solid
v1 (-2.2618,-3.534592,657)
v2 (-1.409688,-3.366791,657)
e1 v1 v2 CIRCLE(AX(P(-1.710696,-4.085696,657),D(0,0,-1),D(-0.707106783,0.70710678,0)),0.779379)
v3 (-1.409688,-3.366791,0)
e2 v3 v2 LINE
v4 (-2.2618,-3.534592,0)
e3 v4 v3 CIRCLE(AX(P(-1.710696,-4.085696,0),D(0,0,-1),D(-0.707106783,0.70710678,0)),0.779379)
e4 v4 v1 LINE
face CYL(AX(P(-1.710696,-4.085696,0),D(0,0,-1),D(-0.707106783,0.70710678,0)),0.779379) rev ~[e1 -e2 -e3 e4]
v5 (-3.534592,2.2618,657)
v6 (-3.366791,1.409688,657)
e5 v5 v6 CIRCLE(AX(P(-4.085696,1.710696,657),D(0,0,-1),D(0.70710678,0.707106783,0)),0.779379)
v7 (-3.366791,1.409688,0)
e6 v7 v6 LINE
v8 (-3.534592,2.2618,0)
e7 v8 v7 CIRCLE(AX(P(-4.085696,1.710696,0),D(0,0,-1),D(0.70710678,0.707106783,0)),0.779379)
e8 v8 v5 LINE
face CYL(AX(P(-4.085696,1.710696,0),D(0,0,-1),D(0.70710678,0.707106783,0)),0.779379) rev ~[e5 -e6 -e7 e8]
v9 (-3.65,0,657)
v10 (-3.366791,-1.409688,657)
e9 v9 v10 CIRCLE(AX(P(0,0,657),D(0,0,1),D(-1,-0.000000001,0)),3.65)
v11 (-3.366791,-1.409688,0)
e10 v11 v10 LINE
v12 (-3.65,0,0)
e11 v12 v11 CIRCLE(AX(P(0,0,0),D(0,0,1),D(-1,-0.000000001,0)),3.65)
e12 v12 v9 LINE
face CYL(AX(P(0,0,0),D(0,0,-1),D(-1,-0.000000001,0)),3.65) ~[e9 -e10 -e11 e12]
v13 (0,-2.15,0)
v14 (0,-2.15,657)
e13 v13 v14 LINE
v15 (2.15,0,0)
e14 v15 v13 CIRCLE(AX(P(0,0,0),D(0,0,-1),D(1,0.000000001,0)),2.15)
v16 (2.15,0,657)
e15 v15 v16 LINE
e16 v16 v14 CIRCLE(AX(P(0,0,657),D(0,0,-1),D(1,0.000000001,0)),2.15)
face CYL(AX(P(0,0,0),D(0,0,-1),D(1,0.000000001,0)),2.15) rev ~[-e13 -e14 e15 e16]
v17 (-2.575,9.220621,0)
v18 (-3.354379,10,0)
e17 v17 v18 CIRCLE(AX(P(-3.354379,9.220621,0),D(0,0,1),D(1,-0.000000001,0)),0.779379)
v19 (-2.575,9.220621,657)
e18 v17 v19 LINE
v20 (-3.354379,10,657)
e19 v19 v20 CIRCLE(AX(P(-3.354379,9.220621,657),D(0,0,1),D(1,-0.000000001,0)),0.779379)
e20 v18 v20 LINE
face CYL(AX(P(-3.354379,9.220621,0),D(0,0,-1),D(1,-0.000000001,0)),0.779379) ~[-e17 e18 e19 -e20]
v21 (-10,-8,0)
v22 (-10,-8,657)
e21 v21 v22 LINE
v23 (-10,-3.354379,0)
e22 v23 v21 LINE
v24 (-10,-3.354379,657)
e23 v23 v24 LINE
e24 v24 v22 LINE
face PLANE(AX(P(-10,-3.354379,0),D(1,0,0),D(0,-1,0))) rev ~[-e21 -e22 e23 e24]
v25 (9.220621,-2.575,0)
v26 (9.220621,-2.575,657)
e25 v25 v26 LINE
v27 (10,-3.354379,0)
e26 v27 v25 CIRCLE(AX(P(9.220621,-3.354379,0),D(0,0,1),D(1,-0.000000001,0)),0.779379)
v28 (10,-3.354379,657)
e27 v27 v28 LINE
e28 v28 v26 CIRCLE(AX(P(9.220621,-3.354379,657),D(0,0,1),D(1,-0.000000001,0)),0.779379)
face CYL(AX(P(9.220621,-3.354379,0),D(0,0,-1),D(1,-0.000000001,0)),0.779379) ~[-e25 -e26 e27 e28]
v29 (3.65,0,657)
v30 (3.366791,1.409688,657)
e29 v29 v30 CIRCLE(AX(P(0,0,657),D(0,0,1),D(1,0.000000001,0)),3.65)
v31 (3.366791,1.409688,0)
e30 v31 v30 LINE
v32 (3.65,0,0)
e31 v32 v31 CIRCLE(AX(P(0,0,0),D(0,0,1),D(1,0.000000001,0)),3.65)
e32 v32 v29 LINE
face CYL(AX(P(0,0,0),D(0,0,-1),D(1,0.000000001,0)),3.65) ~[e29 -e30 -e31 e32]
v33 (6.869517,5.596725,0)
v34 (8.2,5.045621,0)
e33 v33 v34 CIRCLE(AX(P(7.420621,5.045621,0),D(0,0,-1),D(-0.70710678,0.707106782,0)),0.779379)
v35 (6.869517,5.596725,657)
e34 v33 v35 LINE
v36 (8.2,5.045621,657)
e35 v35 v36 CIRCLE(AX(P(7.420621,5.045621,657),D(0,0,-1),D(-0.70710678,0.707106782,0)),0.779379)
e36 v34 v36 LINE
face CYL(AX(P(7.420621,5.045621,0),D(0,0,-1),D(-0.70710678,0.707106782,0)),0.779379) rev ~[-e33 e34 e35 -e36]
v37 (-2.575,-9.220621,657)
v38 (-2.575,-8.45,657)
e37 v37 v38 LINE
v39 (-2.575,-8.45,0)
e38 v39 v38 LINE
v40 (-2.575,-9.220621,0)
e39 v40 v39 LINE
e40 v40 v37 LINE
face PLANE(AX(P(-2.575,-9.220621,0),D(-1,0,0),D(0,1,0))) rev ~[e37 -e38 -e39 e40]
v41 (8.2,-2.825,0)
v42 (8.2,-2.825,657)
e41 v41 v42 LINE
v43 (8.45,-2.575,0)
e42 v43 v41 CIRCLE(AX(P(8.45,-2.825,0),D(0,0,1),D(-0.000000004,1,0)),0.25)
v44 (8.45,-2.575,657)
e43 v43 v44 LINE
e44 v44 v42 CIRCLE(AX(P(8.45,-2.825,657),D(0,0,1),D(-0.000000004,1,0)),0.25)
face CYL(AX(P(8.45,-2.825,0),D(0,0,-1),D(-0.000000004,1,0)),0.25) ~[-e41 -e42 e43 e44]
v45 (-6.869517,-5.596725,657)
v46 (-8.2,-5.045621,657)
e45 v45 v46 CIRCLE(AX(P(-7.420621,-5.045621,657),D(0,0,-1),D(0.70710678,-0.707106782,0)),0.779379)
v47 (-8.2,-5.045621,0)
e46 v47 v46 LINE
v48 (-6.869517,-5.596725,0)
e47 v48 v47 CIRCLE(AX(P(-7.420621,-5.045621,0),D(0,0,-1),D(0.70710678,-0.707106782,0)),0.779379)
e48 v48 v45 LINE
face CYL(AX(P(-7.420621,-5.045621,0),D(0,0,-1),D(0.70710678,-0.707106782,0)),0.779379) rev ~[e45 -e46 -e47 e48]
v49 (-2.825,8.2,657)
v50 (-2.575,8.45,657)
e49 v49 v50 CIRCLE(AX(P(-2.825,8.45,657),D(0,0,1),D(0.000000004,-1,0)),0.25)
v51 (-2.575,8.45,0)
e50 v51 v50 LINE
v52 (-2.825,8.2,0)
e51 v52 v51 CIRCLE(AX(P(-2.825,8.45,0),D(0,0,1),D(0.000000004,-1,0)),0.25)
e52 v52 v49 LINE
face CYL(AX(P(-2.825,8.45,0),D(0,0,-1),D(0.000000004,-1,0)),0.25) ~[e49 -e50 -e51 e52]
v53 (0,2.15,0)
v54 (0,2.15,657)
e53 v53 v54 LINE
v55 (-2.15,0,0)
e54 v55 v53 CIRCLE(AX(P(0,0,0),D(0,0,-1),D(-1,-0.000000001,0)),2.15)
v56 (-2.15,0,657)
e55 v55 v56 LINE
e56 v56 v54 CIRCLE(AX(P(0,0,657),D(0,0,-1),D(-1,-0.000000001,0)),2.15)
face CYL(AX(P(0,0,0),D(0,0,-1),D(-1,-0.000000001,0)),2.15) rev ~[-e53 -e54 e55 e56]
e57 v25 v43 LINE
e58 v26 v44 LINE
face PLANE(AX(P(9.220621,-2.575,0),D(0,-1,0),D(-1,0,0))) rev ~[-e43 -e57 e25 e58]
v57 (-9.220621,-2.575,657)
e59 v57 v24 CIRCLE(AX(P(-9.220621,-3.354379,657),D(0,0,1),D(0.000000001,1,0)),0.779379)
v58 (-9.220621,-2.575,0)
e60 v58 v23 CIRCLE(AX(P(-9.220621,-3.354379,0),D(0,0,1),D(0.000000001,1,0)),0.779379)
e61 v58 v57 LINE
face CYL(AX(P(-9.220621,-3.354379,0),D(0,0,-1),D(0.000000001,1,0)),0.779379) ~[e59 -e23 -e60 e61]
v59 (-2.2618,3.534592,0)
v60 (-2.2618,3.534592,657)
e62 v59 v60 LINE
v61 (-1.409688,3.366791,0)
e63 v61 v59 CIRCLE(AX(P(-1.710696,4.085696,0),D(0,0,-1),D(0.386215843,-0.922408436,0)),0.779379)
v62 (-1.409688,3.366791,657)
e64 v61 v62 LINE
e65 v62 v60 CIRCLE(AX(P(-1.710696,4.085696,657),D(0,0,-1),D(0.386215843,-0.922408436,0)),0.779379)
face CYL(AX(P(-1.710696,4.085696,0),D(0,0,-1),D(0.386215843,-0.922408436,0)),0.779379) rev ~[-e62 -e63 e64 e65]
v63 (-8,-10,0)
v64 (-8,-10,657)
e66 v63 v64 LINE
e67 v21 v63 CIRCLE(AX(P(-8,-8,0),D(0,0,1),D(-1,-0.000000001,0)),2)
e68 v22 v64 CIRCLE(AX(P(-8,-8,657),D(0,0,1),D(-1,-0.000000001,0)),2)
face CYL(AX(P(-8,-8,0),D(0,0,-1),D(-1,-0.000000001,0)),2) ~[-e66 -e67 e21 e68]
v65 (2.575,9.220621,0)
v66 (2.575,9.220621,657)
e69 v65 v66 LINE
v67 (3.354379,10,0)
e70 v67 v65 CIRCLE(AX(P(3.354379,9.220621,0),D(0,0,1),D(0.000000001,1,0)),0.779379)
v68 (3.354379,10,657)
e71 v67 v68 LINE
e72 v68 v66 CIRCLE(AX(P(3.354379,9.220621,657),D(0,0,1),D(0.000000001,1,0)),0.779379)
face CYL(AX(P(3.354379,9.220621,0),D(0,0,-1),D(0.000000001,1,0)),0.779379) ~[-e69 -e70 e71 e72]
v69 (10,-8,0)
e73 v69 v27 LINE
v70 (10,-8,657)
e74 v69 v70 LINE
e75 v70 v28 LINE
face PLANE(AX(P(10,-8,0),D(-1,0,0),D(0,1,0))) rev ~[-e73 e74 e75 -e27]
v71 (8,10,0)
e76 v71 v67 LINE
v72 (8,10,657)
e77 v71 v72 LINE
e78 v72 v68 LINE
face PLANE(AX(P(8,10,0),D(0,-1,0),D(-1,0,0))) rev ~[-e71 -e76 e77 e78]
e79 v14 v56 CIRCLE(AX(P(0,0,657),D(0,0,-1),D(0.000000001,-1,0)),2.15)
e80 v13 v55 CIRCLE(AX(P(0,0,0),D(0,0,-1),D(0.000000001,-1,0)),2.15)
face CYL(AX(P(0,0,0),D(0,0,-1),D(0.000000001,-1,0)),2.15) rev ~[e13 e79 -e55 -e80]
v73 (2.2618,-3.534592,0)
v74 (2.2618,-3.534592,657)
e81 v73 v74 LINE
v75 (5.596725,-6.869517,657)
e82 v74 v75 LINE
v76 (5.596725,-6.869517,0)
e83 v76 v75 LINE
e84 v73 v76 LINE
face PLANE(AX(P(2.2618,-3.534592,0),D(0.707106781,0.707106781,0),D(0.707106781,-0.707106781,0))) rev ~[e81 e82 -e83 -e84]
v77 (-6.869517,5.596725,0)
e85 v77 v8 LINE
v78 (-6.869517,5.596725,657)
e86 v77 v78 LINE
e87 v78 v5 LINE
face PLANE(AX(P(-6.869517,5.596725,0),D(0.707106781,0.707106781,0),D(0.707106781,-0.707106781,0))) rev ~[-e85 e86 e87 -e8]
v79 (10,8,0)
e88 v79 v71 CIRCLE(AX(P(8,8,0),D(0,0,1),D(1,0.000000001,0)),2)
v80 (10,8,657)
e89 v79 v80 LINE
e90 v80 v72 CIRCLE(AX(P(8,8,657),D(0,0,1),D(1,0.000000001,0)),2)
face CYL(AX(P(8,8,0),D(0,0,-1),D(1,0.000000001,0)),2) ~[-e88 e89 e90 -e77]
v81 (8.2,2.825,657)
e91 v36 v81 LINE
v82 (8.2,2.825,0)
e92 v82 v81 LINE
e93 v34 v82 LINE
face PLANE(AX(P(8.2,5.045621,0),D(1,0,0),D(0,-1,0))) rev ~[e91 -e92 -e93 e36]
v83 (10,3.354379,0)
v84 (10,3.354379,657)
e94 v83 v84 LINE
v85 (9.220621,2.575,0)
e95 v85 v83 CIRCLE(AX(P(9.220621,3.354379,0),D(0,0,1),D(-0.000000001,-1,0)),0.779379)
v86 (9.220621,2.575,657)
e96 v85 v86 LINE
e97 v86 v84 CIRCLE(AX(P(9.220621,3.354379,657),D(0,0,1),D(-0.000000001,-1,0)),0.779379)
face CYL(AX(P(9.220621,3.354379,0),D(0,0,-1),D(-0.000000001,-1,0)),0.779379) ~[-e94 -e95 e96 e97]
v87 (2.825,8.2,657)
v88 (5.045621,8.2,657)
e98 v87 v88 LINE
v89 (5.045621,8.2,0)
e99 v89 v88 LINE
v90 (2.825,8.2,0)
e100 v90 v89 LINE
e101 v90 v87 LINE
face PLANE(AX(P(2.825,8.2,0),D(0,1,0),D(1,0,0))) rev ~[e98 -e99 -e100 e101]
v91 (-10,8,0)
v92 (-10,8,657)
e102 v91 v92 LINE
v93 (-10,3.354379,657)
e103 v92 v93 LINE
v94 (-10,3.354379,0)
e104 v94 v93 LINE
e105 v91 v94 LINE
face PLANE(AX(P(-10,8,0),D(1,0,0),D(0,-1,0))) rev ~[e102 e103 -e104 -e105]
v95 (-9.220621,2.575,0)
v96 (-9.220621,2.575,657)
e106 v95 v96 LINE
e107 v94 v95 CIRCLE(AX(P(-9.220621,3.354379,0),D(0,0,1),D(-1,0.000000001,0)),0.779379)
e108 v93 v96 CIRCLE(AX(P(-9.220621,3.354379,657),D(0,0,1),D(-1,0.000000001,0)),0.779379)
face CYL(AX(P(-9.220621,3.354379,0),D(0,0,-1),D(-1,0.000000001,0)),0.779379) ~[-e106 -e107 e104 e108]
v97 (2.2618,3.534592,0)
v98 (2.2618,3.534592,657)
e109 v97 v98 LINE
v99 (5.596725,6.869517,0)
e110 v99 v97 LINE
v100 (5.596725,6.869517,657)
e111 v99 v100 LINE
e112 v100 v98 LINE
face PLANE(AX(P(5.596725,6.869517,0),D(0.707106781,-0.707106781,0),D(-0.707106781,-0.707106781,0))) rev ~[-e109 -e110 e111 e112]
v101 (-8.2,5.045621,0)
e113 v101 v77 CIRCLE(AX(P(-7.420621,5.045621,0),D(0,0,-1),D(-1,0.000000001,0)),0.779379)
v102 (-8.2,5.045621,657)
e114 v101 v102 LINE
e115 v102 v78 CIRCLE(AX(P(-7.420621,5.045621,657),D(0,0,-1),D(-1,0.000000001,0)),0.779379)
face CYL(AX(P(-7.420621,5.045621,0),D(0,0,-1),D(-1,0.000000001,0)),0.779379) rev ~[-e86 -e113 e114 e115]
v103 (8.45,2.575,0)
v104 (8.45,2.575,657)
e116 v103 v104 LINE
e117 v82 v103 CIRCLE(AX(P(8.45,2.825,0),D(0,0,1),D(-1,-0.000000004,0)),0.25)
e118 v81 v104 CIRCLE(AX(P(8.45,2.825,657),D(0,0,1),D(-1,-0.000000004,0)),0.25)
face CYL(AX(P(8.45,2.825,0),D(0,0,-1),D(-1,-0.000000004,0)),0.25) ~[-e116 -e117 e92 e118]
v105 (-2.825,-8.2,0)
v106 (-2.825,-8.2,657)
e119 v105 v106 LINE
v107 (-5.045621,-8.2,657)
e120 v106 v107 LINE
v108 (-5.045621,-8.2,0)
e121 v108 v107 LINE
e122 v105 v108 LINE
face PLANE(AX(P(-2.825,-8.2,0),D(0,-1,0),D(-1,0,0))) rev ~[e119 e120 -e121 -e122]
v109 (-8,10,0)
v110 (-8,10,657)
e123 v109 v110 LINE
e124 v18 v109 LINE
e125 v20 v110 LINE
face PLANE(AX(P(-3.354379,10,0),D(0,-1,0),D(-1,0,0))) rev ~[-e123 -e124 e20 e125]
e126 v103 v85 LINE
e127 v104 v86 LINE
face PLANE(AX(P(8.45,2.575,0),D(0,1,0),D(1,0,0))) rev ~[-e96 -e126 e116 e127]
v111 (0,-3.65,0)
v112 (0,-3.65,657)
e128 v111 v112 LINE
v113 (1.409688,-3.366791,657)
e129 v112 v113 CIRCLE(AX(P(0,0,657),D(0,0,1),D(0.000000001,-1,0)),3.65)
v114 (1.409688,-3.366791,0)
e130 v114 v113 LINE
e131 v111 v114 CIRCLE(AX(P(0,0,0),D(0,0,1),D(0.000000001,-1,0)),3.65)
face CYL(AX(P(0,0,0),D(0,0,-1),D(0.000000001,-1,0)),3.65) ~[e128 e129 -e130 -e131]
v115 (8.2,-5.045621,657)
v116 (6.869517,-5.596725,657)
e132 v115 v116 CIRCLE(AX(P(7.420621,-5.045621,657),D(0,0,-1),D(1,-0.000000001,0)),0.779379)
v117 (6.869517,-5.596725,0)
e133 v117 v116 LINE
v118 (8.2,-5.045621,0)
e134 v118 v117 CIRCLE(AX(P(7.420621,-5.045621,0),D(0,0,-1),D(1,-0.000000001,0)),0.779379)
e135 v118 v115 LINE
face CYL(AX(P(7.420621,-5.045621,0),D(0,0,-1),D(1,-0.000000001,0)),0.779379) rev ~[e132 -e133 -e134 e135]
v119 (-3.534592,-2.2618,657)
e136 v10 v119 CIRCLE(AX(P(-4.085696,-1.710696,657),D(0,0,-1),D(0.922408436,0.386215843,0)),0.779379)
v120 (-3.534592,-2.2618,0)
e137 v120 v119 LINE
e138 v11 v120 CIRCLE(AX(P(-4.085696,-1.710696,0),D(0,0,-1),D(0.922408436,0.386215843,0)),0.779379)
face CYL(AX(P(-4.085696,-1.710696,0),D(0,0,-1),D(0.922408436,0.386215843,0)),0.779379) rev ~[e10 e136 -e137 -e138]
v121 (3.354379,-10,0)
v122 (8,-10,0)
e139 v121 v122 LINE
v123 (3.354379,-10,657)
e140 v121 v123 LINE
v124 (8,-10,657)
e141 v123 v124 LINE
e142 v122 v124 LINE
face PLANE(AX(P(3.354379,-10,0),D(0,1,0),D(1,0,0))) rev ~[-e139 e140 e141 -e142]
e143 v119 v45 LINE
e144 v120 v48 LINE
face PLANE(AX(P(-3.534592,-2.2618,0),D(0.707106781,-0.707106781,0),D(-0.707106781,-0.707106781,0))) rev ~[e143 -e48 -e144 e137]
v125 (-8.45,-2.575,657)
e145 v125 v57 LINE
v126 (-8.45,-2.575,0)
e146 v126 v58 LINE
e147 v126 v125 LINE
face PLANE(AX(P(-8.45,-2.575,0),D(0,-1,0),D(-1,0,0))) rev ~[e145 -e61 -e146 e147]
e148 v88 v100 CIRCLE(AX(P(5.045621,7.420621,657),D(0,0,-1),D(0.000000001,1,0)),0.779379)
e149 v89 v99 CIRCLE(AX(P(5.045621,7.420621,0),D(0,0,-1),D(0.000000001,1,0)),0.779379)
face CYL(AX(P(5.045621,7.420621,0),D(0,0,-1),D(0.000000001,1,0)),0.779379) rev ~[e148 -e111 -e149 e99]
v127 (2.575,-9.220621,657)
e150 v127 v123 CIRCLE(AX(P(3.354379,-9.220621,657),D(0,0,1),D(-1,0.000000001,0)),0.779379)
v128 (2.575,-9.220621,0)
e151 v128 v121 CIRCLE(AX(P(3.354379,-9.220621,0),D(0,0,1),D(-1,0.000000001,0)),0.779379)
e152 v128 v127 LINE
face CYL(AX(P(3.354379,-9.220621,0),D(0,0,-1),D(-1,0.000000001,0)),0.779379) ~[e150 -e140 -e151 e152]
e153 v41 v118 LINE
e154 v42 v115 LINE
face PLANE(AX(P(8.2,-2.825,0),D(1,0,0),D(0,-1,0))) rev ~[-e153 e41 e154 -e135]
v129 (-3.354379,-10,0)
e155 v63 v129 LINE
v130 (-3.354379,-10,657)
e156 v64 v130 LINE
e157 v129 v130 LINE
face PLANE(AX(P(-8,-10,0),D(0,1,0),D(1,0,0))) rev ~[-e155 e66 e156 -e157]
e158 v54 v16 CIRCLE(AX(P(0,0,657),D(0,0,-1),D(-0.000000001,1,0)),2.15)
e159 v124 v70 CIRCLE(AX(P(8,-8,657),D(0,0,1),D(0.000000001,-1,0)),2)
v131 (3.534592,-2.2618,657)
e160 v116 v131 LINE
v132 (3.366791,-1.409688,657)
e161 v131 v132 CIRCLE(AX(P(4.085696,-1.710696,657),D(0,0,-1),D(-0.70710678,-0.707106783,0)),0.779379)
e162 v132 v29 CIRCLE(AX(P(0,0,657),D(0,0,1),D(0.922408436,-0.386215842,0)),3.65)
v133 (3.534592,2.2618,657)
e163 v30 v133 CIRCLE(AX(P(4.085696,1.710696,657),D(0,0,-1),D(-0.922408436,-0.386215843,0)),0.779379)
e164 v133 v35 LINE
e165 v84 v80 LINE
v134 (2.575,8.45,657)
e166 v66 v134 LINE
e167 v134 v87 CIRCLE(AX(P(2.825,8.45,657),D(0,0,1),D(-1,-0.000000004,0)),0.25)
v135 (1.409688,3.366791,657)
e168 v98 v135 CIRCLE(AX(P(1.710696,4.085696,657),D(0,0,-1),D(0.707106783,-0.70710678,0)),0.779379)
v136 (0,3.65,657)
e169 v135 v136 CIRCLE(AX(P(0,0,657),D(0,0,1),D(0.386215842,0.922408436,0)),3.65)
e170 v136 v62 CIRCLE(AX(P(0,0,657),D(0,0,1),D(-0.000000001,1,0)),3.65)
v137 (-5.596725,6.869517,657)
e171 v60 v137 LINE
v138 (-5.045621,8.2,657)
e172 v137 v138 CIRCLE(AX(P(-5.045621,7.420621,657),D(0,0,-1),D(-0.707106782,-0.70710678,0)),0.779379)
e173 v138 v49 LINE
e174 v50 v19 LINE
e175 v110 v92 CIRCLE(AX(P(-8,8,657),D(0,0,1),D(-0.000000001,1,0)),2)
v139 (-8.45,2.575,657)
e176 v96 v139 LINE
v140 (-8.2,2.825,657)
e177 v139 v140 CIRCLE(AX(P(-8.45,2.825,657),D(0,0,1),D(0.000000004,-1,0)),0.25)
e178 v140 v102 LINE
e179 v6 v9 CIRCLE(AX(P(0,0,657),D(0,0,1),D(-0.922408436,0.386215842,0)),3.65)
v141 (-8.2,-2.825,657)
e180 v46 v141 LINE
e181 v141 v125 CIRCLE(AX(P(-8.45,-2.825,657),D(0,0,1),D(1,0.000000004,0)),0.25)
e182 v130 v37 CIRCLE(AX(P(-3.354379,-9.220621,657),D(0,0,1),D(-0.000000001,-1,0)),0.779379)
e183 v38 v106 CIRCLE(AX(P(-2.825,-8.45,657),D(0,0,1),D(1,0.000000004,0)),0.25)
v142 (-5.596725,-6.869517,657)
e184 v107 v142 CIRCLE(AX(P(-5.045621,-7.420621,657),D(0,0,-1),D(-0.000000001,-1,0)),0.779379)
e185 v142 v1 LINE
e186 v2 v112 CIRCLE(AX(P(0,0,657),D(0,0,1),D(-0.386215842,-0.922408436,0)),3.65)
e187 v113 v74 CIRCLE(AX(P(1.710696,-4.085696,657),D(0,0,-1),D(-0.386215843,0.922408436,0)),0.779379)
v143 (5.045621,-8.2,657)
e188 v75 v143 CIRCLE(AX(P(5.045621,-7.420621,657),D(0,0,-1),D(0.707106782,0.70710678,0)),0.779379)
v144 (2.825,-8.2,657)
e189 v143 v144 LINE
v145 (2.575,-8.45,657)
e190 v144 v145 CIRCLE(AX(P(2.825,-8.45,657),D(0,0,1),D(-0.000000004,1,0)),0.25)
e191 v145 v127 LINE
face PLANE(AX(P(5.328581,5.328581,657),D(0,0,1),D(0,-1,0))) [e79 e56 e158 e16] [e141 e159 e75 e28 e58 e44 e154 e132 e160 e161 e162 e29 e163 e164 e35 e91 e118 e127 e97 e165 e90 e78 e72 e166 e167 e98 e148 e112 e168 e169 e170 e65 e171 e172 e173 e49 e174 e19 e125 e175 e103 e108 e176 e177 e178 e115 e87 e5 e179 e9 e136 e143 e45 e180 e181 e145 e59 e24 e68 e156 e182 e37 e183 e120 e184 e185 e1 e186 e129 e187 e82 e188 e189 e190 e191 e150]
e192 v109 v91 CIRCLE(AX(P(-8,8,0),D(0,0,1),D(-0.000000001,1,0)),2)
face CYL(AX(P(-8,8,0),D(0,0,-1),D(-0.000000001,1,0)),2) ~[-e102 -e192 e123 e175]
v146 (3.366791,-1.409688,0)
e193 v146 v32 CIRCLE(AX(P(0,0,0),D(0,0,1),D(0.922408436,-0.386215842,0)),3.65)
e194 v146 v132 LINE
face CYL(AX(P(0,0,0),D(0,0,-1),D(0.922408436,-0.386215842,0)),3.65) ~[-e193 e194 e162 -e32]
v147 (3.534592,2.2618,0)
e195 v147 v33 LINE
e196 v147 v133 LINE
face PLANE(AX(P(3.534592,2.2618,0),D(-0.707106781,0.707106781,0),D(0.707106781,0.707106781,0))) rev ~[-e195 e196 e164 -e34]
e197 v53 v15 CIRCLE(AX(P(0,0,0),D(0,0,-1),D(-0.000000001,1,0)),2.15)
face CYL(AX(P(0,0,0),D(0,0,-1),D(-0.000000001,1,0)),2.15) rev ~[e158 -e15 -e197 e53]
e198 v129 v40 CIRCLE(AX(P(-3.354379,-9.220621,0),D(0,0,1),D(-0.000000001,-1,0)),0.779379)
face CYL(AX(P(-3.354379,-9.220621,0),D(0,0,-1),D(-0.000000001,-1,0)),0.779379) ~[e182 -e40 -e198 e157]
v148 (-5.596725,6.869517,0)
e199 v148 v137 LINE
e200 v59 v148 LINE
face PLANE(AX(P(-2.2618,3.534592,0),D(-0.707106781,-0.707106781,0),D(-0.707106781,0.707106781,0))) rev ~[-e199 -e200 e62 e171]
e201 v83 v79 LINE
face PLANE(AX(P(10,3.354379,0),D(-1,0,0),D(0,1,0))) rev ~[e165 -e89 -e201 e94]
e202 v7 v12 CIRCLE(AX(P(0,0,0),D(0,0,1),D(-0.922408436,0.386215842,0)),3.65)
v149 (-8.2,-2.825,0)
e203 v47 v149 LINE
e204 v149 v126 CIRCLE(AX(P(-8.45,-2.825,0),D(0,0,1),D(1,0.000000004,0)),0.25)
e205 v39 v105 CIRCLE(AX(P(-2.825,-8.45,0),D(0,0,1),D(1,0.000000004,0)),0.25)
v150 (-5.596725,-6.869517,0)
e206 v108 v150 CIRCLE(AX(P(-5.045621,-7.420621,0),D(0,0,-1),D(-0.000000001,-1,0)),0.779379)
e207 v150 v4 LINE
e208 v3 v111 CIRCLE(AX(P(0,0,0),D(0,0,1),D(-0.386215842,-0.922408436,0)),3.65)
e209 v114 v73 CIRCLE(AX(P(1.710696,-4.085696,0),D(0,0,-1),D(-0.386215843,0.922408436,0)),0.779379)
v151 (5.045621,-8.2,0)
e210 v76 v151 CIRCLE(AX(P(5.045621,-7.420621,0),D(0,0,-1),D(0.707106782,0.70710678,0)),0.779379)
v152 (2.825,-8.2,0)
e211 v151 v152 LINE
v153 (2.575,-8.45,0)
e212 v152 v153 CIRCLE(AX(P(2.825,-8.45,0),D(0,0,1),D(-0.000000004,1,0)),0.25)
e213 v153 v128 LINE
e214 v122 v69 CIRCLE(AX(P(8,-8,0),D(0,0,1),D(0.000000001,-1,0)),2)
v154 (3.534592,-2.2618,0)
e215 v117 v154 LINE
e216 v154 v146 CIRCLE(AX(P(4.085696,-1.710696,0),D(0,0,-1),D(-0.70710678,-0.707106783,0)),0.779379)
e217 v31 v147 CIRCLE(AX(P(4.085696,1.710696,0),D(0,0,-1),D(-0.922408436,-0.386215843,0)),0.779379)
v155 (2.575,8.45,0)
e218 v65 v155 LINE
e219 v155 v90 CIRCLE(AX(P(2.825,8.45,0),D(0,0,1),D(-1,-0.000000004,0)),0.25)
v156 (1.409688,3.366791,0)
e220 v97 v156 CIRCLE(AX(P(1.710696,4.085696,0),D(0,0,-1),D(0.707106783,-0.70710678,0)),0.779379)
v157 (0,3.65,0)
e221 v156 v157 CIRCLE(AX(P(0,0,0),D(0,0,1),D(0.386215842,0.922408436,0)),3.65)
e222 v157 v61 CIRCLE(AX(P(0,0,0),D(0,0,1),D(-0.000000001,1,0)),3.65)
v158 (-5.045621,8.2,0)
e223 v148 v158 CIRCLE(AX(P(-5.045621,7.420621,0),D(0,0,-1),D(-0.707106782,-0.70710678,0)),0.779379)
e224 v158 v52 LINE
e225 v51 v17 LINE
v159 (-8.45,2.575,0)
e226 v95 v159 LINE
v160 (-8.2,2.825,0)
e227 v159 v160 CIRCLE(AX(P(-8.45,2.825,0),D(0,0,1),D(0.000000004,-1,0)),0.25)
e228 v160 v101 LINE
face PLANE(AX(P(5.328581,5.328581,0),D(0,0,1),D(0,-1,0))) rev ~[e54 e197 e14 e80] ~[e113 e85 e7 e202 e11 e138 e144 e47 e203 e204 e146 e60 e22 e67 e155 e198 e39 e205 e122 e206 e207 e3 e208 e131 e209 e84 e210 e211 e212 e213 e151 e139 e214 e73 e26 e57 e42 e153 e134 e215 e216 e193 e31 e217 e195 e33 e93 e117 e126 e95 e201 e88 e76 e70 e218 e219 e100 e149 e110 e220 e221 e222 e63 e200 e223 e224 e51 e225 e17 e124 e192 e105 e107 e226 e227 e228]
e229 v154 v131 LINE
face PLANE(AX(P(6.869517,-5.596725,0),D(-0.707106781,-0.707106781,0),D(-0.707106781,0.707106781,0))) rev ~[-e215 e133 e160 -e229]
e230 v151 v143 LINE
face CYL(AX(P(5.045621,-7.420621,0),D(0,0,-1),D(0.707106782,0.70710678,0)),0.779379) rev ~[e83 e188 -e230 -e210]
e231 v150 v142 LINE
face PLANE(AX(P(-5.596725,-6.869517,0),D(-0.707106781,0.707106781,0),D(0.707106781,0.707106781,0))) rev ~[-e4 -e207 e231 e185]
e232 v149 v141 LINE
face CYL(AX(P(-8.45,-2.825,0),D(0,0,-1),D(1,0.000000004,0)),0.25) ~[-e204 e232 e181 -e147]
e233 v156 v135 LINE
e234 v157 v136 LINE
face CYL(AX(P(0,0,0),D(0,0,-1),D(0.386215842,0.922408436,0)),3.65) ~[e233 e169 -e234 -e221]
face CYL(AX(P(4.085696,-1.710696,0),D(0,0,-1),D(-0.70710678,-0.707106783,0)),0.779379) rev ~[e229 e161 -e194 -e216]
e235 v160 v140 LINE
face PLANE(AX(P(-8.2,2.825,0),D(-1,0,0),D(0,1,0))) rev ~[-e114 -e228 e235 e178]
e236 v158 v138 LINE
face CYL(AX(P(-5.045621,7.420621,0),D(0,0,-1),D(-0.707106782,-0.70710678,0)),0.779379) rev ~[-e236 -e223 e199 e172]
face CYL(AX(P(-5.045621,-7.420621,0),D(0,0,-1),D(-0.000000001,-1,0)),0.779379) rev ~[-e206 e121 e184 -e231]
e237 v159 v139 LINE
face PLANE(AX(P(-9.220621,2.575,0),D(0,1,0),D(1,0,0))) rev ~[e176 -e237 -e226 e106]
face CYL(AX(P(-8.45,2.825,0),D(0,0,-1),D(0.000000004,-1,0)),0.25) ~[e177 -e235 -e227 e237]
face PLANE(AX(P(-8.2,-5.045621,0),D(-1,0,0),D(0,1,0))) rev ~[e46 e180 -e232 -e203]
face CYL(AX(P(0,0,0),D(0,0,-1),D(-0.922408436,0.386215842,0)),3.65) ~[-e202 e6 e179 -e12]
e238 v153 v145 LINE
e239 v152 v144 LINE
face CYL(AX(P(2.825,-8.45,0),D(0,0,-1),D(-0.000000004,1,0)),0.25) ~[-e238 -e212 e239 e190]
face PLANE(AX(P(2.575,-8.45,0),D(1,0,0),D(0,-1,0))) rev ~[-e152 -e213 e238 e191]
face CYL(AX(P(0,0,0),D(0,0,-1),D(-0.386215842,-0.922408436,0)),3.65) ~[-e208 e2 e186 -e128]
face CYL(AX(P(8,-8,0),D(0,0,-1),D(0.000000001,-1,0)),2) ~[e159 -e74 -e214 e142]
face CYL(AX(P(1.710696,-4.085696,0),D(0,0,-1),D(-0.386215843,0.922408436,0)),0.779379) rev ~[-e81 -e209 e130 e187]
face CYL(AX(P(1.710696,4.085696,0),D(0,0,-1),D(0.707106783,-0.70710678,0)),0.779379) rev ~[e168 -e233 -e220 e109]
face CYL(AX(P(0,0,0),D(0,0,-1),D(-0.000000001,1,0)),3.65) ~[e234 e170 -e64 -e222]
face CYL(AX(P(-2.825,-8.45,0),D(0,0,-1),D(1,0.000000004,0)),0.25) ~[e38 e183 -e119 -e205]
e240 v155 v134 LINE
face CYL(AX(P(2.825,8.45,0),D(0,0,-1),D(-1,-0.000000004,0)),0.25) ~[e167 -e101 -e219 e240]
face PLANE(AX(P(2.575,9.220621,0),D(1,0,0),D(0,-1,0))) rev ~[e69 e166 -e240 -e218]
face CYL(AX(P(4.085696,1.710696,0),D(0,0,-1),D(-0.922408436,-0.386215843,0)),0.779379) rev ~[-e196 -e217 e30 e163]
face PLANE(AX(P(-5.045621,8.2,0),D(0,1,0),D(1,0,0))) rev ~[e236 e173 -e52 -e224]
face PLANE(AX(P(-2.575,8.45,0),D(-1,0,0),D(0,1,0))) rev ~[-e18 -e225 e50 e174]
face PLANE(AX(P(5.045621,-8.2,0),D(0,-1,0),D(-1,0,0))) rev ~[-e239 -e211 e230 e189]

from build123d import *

# Parameters (mm, degrees)
BOSS_EXTRUDE1_DEPTH = 657
CIRPATTERN1_COUNT   = 4


with BuildPart() as part:
    # Sketch2 → Boss-Extrude1 (new body)
    with BuildSketch(Plane.XY):
        with BuildLine():
            Line((-5.045621395, 8.2), (-2.825, 8.2))
            ThreePointArc((-2.825, 8.2), (-2.648223305, 8.273223305), (-2.575, 8.45))
            Line((-2.575, 8.45), (-2.575, 9.220621395))
            ThreePointArc((-2.575, 9.220621395), (-2.803274708, 9.771725292), (-3.354378605, 10))
            Line((-3.354378605, 10), (-8, 10))
            ThreePointArc((-8, 10), (-9.414213562, 9.414213562), (-10, 8))
            Line((-10, 8), (-10, 3.354378605))
            ThreePointArc((-10, 3.354378605), (-9.771725292, 2.803274708), (-9.220621395, 2.575))
            Line((-9.220621395, 2.575), (-8.45, 2.575))
            ThreePointArc((-8.45, 2.575), (-8.273223305, 2.648223305), (-8.2, 2.825))
            Line((-8.2, 2.825), (-8.2, 5.045621395))
            ThreePointArc((-8.2, 5.045621395), (-7.718876674, 5.765673336), (-6.869517498, 5.596725292))
            Line((-6.869517498, 5.596725292), (-3.534592295, 2.261800088))
            ThreePointArc((-3.534592295, 2.261800088), (-3.321003619, 1.861282645), (-3.366790791, 1.409687827))
            ThreePointArc((-3.366790791, 1.409687827), (-3.578497337, 0.718927539), (-3.65, 0))
            Line((-3.65, 0), (-2.15, 0))
            ThreePointArc((-2.15, 0), (-1.52027958, 1.52027958), (0, 2.15))
            Line((0, 2.15), (0, 3.65))
            ThreePointArc((0, 3.65), (-0.718927539, 3.578497337), (-1.409687827, 3.366790791))
            ThreePointArc((-1.409687827, 3.366790791), (-1.861282645, 3.321003619), (-2.261800088, 3.534592295))
            Line((-2.261800088, 3.534592295), (-5.596725292, 6.869517498))
            ThreePointArc((-5.596725292, 6.869517498), (-5.765673336, 7.718876674), (-5.045621395, 8.2))
        make_face()
    boss_extrude1 = extrude(amount=BOSS_EXTRUDE1_DEPTH)

    # CirPattern1: Boss-Extrude1 ×4 about axis
    cirpattern1_axis = Axis((0, 0, 657), (0, 0, -1))
    for i in range(1, CIRPATTERN1_COUNT):
        add(boss_extrude1.rotate(cirpattern1_axis, i * 360 / CIRPATTERN1_COUNT))


solid = part.part
